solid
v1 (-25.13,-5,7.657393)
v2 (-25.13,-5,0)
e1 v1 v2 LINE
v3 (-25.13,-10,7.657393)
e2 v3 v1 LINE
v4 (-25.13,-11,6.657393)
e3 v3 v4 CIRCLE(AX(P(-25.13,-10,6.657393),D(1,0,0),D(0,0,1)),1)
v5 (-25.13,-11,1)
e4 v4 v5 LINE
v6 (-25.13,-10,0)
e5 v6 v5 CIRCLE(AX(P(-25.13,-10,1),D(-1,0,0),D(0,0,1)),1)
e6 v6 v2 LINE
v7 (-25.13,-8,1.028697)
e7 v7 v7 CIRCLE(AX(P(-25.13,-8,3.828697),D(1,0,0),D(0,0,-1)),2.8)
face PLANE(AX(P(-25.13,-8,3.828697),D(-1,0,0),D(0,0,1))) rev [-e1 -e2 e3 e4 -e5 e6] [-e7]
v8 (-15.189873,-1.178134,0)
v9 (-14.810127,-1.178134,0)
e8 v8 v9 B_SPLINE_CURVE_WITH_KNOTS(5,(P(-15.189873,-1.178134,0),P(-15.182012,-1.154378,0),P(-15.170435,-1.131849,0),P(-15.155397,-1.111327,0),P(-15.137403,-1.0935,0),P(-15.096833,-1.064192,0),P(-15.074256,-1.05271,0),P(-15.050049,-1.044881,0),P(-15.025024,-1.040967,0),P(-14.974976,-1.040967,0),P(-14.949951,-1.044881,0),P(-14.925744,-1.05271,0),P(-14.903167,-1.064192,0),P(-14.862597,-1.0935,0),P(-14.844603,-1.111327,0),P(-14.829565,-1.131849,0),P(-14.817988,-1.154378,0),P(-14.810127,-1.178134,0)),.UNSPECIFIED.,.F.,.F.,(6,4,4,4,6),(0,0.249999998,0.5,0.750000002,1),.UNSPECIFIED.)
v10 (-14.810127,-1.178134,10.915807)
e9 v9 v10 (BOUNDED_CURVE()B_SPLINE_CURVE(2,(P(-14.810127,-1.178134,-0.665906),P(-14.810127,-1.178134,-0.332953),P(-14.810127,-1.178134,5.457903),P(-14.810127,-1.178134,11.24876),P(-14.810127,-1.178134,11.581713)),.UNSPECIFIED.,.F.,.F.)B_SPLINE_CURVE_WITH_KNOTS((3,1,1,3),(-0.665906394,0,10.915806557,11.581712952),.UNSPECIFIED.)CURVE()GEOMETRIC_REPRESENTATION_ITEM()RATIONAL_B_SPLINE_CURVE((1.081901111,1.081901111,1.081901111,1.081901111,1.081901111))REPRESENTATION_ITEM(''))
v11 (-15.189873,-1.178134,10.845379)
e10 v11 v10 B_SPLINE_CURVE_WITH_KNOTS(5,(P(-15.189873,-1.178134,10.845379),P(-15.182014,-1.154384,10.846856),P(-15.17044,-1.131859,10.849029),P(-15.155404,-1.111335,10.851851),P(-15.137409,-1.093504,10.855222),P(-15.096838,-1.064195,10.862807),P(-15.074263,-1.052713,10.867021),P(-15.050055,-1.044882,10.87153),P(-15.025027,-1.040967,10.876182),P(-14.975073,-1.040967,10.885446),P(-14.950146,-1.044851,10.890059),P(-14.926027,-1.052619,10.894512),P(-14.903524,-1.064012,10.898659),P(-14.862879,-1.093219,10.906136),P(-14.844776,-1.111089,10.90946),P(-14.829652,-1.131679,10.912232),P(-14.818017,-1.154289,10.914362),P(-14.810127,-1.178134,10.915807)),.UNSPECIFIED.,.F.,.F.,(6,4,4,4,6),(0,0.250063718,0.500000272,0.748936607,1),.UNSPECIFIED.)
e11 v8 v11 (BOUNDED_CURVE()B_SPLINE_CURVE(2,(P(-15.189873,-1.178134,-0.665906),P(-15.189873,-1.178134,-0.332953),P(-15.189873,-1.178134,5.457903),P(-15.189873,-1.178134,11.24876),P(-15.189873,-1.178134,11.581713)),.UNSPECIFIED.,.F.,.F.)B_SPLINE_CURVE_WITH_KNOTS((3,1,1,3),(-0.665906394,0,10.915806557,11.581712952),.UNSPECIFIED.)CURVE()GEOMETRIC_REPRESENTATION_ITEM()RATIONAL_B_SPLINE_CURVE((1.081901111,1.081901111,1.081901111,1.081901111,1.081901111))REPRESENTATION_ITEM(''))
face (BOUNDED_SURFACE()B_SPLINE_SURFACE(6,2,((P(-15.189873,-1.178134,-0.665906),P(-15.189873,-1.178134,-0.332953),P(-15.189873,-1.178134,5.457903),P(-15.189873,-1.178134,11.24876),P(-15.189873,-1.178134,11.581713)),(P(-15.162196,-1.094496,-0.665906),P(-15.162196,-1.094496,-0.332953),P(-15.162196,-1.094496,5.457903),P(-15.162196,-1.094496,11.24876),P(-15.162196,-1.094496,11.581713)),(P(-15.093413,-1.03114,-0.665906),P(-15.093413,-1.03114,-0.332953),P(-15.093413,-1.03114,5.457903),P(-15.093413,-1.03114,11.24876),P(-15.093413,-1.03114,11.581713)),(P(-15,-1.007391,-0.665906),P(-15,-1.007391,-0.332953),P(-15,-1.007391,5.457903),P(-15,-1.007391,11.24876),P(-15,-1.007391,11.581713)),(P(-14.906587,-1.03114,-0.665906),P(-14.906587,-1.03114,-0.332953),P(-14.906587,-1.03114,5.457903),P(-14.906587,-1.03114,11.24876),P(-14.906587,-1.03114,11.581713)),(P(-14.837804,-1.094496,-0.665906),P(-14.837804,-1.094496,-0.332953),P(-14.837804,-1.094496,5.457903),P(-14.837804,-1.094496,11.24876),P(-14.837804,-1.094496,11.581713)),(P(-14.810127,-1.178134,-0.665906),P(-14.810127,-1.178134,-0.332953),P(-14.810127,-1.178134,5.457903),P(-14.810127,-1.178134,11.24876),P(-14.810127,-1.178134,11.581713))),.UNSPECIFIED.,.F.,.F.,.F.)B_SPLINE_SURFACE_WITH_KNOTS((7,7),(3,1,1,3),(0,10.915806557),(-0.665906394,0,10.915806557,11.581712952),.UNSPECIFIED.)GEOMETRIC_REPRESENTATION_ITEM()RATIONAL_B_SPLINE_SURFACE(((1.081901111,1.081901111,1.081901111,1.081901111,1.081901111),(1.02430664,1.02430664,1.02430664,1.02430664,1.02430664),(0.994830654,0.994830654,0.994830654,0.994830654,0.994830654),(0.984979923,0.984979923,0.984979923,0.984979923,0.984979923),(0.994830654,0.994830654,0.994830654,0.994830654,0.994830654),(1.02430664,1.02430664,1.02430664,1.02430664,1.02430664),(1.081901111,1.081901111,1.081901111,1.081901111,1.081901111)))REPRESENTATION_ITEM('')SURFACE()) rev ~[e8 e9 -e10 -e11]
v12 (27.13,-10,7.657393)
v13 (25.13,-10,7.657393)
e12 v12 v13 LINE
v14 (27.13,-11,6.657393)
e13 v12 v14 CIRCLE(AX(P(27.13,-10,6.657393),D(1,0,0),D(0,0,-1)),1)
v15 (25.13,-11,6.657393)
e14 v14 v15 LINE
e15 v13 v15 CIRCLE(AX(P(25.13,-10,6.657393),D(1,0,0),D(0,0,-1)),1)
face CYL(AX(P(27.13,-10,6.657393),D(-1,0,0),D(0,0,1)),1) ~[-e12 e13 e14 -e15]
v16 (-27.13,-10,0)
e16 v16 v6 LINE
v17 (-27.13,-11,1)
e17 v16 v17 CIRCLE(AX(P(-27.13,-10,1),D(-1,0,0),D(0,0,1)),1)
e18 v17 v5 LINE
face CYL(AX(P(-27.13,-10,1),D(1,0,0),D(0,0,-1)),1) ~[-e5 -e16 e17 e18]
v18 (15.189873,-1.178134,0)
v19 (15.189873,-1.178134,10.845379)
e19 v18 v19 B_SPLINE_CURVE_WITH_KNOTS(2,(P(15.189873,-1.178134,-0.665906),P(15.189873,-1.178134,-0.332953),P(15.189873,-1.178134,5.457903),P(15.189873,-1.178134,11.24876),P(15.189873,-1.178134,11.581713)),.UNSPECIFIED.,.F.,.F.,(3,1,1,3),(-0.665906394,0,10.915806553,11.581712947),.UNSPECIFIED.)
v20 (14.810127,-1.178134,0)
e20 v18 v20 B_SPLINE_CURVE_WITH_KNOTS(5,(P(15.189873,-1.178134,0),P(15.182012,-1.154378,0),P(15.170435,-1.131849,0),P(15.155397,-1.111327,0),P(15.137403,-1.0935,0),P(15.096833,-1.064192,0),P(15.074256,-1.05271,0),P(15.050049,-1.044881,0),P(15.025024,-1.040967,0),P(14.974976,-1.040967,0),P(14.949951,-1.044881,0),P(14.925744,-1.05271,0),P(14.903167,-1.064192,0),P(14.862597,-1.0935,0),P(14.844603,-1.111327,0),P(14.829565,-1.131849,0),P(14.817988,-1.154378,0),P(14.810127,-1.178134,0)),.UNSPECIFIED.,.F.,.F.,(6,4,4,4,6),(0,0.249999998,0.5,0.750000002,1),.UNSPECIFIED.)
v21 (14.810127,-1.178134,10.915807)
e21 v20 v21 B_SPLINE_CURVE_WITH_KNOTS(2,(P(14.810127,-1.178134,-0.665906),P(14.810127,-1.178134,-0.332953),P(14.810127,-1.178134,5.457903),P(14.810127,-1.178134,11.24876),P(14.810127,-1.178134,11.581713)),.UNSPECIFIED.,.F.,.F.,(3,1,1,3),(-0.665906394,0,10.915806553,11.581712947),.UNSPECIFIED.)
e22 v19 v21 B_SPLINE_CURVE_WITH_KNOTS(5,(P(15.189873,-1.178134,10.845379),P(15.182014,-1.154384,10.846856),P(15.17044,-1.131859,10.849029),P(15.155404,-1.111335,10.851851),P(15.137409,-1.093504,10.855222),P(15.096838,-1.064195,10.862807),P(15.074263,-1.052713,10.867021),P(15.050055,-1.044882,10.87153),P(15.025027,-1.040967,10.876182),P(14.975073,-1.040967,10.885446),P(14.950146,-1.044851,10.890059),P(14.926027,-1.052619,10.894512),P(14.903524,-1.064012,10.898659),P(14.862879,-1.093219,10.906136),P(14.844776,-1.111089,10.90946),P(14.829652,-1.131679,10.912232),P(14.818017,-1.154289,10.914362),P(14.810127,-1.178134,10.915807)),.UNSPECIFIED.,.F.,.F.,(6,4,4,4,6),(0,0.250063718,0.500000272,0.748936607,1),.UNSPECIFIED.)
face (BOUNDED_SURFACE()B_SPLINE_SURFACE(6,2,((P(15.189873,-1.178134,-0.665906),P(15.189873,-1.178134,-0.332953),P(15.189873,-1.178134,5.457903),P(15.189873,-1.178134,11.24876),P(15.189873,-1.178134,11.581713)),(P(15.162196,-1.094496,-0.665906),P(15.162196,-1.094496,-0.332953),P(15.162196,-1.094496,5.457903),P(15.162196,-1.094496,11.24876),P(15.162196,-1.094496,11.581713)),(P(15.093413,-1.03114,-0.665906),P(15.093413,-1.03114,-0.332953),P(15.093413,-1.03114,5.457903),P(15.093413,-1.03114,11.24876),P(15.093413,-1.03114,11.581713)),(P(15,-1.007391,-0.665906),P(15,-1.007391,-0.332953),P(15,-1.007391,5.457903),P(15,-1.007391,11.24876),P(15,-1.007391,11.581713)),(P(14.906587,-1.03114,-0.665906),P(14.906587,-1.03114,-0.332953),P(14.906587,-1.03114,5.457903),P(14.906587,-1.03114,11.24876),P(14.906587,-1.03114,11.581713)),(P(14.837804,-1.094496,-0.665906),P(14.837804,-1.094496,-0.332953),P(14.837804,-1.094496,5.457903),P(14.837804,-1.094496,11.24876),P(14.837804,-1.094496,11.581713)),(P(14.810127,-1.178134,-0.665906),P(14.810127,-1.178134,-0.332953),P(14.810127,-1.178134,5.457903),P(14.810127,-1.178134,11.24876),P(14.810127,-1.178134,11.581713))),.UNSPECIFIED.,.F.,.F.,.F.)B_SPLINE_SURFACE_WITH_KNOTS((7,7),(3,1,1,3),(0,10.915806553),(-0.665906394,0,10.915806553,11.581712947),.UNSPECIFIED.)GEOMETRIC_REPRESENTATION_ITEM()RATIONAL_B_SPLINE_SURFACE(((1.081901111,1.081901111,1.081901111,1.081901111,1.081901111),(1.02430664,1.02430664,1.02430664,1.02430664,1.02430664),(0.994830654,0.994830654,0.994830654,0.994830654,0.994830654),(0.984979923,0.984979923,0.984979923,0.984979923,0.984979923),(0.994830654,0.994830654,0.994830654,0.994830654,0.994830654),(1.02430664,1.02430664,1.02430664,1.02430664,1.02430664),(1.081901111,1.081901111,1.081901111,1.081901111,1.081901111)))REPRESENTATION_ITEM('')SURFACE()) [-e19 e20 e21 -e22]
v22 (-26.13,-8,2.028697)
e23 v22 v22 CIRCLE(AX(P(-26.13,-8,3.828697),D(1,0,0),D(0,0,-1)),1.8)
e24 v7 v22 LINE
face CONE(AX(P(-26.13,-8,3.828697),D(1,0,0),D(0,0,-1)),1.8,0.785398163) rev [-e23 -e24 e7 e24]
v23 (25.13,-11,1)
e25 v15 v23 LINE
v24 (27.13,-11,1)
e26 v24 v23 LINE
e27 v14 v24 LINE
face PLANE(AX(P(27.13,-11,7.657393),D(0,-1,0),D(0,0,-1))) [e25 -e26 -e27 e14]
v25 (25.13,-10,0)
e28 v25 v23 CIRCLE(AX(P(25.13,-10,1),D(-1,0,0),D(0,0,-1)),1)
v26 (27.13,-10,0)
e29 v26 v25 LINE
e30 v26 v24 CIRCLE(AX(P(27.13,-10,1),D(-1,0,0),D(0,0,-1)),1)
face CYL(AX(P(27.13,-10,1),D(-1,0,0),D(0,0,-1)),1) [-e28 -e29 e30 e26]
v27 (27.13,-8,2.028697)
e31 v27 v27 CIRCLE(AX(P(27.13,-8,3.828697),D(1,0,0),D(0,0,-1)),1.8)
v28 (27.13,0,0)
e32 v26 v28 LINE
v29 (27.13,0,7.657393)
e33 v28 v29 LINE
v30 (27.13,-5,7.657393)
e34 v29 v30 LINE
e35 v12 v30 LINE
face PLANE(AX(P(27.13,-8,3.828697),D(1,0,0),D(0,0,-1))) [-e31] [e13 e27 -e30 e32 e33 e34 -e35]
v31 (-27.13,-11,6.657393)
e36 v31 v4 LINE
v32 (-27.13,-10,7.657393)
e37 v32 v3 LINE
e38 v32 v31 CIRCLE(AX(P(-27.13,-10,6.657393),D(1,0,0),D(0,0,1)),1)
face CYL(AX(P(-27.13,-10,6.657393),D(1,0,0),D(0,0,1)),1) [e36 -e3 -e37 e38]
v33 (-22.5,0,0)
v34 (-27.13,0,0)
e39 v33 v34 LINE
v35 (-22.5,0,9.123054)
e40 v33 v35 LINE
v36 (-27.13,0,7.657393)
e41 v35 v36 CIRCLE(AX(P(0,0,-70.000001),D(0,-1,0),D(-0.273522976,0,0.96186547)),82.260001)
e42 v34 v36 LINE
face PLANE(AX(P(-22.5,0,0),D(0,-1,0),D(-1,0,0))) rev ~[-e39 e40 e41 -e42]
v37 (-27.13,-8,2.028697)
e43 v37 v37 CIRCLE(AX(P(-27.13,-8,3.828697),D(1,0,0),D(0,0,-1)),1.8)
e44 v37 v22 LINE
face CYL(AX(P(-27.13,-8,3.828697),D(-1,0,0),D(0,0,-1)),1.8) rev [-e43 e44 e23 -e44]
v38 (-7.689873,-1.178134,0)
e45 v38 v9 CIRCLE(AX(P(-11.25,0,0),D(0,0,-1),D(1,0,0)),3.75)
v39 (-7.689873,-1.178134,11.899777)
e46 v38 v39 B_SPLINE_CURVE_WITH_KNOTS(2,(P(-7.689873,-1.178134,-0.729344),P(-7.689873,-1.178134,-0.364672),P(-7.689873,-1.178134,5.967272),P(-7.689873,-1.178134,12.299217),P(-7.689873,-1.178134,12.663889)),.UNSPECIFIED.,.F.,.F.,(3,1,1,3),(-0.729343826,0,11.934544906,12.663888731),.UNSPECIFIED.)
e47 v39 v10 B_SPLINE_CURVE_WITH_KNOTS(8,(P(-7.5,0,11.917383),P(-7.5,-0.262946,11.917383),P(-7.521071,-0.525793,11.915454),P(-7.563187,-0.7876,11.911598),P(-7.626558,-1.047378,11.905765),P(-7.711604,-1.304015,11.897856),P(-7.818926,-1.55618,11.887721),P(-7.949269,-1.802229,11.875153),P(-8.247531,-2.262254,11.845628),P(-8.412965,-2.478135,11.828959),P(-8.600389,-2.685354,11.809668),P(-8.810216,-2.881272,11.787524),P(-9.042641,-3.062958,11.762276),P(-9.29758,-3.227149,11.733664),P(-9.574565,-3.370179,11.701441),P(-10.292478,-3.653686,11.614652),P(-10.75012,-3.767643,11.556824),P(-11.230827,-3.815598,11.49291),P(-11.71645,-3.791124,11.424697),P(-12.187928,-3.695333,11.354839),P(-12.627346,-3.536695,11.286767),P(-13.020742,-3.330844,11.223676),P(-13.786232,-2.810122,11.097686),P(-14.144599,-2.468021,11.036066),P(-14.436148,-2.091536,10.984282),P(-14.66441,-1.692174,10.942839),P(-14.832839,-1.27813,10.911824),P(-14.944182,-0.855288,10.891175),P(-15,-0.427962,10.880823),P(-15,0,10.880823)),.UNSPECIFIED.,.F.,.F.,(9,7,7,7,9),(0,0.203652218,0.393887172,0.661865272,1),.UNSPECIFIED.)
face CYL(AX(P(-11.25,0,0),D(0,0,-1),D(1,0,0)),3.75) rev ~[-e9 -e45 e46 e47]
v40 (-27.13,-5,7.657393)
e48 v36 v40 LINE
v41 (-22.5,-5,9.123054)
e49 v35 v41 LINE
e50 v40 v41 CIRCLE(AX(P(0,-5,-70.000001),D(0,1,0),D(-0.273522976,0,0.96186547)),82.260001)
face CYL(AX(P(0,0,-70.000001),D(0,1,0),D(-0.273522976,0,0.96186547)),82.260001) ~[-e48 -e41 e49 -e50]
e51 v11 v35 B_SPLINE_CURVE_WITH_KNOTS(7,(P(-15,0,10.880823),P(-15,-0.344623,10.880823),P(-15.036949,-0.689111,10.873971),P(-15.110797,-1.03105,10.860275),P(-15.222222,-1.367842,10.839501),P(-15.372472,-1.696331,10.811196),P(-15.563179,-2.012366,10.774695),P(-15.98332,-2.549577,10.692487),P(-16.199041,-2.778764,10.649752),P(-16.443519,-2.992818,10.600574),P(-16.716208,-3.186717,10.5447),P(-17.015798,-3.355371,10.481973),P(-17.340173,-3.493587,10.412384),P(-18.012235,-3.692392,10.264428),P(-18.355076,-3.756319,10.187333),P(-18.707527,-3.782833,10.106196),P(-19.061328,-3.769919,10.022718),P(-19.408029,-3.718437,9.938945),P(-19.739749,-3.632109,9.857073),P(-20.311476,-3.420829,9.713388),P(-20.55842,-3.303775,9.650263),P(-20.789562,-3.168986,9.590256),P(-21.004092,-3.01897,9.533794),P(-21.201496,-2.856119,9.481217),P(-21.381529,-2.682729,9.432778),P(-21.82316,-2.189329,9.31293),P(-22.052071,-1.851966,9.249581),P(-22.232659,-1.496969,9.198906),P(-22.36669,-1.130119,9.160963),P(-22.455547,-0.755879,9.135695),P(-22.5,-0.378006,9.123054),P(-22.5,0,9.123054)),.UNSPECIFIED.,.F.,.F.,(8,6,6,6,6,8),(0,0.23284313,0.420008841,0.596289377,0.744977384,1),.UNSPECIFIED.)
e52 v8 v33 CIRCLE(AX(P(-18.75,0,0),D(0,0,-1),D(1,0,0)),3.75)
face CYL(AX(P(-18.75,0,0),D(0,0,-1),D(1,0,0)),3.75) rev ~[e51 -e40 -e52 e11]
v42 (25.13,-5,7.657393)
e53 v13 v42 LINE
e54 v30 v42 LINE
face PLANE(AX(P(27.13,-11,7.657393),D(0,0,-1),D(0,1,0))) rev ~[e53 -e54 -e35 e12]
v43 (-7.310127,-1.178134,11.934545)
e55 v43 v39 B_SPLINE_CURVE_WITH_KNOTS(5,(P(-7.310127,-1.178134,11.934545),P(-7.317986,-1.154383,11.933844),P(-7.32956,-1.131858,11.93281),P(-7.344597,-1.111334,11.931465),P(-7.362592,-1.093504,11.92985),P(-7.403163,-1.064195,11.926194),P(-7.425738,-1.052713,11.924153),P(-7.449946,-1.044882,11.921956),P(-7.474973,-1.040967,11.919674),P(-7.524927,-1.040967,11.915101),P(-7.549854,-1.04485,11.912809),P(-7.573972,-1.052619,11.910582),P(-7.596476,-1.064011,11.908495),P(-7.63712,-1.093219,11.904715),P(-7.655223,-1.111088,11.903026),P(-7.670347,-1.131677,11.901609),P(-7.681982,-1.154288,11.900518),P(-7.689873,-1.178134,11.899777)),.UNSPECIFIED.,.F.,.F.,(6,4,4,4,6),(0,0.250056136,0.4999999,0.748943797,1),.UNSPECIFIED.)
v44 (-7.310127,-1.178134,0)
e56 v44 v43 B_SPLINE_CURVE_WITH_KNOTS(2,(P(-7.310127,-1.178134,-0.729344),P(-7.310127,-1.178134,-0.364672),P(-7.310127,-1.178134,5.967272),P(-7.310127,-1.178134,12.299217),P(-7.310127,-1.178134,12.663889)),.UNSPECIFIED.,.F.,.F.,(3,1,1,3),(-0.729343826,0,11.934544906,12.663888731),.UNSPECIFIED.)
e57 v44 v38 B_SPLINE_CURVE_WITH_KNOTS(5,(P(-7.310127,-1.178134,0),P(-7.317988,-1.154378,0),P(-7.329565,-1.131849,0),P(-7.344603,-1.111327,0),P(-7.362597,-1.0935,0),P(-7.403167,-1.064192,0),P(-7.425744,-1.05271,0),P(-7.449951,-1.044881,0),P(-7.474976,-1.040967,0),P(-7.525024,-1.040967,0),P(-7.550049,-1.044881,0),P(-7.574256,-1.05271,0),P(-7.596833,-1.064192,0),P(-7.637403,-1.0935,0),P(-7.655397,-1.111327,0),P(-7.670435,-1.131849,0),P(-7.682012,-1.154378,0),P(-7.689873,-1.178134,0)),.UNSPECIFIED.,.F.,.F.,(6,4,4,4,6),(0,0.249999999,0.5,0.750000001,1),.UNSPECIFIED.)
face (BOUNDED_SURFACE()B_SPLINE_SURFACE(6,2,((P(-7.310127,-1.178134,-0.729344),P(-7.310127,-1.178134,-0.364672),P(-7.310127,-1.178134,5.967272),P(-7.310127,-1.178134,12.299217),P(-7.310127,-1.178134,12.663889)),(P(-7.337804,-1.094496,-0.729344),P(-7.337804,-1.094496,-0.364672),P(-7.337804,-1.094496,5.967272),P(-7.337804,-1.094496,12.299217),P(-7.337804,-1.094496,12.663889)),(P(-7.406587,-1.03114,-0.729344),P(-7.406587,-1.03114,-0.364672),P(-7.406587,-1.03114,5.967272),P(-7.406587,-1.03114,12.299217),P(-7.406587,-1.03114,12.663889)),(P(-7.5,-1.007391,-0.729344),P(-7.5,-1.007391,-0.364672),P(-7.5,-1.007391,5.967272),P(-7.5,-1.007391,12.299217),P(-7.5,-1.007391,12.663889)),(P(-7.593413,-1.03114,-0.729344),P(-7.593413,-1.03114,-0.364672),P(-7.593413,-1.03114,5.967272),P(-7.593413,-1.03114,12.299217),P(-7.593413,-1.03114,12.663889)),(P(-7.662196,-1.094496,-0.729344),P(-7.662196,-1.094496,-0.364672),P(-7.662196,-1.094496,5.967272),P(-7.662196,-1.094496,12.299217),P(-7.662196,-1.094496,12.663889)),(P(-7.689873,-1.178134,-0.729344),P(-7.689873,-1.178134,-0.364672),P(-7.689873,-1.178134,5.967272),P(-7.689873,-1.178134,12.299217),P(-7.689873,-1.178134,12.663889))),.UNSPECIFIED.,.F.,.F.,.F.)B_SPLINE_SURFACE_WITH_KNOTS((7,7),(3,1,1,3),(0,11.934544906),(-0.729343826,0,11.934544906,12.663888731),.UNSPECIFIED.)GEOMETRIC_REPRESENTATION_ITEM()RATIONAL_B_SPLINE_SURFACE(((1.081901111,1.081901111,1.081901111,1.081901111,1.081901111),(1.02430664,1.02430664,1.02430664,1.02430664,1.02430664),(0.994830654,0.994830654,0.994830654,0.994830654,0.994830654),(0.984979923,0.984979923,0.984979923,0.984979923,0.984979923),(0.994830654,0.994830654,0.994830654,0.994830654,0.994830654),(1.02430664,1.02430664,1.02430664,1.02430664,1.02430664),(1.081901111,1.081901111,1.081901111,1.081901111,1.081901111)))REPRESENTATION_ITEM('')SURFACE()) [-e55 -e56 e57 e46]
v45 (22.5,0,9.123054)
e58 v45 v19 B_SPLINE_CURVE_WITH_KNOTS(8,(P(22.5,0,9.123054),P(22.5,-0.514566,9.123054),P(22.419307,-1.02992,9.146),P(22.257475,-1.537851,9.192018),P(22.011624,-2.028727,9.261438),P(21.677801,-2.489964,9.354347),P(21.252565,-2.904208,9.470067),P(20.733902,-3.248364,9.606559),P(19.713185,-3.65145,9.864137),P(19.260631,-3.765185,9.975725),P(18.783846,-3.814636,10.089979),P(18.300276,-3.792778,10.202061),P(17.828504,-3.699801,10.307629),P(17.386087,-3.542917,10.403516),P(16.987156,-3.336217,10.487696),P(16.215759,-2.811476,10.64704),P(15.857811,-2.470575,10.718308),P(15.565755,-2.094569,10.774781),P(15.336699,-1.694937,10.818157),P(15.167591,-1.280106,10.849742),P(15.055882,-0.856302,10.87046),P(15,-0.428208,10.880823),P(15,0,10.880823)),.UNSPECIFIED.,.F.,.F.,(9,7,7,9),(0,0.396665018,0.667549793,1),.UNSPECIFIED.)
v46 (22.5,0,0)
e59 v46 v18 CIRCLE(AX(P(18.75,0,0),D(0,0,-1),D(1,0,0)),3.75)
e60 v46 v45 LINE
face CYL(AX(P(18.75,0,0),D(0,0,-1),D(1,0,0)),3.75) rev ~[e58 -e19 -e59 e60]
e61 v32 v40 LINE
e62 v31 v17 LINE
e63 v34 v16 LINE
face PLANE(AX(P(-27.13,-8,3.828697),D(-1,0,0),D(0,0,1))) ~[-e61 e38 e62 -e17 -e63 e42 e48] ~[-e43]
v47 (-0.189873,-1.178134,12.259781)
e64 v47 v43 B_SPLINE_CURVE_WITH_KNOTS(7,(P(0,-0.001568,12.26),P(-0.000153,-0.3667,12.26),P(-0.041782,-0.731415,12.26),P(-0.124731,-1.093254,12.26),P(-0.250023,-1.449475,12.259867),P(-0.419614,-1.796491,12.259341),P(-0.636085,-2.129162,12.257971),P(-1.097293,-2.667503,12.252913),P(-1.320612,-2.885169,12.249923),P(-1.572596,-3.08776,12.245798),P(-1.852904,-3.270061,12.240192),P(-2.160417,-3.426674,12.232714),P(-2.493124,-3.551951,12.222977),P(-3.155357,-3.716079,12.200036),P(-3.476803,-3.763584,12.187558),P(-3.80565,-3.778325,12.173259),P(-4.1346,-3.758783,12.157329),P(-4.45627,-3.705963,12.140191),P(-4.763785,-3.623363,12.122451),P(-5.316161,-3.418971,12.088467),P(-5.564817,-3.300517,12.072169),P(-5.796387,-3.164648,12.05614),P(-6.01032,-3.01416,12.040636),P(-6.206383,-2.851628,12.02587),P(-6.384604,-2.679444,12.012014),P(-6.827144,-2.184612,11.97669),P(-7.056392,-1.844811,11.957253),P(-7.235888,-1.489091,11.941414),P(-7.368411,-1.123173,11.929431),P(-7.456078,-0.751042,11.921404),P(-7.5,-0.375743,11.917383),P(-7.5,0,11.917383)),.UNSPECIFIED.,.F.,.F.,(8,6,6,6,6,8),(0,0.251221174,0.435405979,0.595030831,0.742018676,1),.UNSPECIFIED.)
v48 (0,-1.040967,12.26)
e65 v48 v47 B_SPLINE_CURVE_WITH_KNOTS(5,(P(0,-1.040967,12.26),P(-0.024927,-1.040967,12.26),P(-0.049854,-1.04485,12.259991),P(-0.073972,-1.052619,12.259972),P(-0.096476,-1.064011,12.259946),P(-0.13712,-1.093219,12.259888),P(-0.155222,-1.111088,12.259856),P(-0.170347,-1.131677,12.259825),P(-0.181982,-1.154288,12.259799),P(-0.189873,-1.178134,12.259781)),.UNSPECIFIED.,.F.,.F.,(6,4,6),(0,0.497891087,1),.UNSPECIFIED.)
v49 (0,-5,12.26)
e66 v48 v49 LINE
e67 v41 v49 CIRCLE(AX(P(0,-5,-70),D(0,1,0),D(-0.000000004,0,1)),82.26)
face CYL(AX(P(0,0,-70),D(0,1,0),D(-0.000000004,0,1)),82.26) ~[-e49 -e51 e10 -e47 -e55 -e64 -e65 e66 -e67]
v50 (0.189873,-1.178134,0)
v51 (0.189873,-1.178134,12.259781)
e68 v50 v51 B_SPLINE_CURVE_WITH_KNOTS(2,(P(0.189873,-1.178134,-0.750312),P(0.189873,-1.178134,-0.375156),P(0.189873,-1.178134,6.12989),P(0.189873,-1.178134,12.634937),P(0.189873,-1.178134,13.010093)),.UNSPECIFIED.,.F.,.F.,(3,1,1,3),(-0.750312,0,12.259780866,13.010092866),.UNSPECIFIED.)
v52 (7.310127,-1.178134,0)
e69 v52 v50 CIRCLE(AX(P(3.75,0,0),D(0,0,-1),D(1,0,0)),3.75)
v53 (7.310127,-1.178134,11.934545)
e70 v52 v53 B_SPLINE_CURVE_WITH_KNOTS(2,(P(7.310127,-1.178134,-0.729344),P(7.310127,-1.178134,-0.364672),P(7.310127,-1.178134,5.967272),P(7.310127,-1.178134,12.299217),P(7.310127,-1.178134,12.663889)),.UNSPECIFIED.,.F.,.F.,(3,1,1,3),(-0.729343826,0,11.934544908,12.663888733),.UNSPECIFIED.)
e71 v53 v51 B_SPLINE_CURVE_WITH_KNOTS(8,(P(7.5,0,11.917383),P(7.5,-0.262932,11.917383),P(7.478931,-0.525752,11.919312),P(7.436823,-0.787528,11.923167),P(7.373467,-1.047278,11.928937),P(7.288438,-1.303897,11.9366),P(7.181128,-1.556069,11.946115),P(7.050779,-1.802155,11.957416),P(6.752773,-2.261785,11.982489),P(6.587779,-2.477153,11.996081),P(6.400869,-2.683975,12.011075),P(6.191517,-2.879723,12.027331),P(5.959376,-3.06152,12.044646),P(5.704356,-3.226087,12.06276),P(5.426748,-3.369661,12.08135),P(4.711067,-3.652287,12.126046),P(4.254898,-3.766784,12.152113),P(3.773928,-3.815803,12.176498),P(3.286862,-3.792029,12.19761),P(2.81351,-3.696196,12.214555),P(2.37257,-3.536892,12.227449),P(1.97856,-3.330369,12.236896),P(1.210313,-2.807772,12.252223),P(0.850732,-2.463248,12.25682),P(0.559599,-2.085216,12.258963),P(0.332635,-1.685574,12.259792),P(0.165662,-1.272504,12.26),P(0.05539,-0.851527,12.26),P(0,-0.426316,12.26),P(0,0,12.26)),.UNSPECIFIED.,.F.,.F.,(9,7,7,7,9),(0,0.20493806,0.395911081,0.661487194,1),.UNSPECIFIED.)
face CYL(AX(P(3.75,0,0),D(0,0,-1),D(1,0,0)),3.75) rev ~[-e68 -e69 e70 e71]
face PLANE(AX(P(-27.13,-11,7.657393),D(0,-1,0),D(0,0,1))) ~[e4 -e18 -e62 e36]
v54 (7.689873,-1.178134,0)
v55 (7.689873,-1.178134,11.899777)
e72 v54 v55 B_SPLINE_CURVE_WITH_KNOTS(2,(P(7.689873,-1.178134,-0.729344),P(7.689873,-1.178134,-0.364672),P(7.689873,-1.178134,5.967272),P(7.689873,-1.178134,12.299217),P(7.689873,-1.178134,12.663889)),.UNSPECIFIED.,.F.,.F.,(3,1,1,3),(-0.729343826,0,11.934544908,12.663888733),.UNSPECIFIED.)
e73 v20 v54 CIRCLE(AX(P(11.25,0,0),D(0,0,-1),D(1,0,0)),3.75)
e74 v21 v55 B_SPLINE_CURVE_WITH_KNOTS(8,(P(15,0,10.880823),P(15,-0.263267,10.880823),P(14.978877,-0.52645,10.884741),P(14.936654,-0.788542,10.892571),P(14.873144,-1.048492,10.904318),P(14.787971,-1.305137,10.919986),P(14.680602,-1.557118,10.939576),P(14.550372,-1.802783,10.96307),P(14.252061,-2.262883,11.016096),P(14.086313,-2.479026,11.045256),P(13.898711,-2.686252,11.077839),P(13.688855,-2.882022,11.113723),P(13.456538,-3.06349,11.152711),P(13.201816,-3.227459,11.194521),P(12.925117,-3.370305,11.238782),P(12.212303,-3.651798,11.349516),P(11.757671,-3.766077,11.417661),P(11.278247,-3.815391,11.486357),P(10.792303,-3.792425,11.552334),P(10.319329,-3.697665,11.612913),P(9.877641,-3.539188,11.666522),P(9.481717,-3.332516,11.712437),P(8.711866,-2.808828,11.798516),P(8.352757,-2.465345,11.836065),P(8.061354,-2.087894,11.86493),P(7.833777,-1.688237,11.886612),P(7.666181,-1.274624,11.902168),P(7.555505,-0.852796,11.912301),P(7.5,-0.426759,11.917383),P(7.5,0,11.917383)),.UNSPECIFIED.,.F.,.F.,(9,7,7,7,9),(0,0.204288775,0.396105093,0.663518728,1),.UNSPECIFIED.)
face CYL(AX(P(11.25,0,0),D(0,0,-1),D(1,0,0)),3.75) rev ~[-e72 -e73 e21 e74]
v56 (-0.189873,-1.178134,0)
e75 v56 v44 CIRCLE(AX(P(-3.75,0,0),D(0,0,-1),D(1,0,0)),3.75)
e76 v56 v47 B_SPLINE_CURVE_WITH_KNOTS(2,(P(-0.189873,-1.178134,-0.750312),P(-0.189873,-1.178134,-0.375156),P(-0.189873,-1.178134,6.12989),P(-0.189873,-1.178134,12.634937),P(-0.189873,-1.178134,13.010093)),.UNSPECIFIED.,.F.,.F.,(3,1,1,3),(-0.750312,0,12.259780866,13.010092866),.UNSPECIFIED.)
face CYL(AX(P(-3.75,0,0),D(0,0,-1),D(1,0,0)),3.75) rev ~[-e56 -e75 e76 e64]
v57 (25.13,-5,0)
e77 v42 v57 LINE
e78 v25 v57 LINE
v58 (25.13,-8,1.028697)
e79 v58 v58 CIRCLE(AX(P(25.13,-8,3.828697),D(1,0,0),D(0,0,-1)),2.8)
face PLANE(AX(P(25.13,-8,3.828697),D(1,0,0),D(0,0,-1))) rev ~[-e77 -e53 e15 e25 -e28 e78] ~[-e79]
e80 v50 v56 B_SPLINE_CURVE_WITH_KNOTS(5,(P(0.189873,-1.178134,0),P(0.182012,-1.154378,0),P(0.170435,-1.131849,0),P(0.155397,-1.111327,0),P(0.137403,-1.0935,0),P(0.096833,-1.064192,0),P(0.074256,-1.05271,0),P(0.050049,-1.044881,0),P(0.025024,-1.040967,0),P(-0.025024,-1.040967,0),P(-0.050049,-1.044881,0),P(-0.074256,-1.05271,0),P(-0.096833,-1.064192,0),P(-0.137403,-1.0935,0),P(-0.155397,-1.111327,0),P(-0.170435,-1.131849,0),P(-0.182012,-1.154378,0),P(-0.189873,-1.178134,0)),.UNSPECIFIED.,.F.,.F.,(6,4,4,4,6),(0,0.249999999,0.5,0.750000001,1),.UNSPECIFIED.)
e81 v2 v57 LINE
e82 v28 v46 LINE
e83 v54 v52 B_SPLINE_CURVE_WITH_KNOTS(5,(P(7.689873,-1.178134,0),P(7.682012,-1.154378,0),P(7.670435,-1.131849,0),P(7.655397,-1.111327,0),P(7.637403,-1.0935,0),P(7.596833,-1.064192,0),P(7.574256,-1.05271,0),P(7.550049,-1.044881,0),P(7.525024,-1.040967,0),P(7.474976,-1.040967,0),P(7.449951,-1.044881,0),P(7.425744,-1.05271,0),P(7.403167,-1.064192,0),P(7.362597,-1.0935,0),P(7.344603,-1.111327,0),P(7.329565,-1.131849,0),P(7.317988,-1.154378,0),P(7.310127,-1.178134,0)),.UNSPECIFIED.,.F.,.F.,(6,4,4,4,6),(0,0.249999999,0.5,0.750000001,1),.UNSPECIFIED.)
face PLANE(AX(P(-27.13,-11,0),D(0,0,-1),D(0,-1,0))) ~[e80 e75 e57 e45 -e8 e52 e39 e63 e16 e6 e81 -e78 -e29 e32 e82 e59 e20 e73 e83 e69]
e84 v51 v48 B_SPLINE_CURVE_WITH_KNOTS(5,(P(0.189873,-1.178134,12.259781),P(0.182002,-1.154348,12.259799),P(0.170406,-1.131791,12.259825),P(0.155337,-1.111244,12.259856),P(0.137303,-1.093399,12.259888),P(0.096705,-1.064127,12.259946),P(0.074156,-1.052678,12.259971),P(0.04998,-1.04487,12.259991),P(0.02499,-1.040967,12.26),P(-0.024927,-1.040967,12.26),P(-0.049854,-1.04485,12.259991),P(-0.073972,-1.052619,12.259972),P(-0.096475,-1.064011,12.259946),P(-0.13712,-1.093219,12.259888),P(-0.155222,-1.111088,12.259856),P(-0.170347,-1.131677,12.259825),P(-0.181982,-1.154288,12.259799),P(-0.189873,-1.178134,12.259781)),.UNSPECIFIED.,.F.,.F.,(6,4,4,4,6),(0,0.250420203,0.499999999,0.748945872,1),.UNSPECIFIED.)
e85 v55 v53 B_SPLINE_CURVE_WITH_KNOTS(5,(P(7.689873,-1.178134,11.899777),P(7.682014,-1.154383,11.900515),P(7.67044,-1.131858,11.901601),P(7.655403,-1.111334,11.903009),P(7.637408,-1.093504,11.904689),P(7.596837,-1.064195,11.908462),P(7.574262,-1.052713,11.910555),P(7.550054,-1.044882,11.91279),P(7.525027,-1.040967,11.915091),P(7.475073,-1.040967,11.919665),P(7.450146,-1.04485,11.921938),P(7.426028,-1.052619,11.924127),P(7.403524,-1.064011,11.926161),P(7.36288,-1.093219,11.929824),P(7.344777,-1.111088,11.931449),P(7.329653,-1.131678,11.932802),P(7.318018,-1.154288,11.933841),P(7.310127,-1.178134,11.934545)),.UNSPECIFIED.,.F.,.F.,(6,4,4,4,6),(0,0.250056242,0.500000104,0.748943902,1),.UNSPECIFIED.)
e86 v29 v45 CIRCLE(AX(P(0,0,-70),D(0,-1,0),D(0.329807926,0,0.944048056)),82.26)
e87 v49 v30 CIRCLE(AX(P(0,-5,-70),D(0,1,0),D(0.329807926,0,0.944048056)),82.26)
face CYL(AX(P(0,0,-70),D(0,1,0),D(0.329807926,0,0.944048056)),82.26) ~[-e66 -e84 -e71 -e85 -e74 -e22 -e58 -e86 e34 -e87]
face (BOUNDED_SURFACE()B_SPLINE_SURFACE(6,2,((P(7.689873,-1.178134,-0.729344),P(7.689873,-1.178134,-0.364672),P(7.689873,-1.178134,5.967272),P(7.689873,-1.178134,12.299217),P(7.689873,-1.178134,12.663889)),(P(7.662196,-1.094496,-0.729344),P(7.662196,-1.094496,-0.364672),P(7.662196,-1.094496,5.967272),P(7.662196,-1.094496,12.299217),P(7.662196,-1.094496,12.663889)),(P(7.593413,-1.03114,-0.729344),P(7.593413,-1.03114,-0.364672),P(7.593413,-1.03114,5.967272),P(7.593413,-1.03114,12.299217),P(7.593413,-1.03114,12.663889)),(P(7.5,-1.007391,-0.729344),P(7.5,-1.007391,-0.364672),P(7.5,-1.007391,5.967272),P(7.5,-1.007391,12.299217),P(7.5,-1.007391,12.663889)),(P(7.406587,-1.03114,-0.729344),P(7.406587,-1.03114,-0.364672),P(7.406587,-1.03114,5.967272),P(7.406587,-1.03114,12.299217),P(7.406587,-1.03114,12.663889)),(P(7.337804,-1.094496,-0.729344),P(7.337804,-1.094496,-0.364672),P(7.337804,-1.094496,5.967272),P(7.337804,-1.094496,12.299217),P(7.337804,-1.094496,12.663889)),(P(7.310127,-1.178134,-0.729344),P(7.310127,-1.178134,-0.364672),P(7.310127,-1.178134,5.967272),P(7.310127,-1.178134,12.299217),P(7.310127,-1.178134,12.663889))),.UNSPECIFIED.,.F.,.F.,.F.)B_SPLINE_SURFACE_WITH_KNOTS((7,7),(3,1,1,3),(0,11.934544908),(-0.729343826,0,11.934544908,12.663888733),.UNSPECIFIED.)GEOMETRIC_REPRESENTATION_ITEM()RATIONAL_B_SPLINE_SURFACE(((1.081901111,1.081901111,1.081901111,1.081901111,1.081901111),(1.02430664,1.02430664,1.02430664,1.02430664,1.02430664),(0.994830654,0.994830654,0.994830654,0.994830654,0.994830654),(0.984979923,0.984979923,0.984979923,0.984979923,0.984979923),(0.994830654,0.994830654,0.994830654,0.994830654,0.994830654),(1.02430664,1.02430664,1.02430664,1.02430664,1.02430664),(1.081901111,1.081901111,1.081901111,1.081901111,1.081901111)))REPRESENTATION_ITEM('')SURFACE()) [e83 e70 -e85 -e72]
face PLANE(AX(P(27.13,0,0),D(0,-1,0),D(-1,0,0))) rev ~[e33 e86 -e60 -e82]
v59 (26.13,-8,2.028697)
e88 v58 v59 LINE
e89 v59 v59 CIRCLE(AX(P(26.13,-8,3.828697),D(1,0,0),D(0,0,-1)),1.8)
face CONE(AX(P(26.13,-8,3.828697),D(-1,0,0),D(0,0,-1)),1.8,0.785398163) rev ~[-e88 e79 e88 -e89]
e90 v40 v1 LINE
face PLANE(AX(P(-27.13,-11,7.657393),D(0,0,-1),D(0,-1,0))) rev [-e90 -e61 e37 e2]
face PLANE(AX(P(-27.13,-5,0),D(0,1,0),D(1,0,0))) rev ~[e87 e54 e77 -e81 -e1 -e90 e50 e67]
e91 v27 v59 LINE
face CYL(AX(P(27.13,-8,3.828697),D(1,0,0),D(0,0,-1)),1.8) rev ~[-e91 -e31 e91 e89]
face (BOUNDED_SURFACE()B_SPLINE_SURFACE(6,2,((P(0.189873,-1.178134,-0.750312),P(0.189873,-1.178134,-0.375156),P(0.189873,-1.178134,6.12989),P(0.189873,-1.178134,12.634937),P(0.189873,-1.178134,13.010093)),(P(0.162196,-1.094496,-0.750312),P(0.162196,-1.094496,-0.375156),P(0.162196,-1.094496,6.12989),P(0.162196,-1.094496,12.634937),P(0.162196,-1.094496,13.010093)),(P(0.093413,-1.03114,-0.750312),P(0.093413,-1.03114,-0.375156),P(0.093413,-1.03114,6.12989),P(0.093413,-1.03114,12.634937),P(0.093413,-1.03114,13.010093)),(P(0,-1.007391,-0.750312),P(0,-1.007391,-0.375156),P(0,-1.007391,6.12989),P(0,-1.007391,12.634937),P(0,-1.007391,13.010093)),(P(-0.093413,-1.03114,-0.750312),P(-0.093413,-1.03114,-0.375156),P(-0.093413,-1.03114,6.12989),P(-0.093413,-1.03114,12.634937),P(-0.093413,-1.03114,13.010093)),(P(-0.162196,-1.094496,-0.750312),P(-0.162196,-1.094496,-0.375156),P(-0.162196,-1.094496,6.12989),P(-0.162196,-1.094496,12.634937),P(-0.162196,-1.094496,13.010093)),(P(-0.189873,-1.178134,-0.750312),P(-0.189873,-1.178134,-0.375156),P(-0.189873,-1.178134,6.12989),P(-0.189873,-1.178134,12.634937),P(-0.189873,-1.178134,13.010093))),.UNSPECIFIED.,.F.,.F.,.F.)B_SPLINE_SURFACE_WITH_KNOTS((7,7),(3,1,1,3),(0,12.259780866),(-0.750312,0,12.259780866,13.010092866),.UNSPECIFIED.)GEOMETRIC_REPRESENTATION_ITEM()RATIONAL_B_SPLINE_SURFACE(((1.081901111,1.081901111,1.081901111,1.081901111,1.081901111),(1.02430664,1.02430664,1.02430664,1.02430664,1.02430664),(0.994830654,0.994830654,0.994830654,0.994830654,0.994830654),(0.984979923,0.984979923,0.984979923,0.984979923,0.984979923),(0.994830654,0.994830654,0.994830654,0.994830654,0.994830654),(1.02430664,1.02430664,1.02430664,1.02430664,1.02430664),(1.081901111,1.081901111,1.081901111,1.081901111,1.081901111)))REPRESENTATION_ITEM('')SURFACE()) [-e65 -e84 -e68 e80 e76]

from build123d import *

# Parameters (mm, degrees)
RESSALTO_EXTRUS_O2_DEPTH = 12.26
CORTE_EXTRUS_O1_DEPTH    = 12.26
FILETE1_R                = 0.2
ESBO_O4_W                = 7.65739308
ESBO_O4_H                = 6
ESBO_O4_R                = 1.8
RESSALTO_EXTRUS_O3_DEPTH = 2
FILETE2_R                = 1
CHANFRO1_SIZE            = 1


with BuildPart() as part:
    # Esboço2 → Ressalto-extrusão2 (new body)
    with BuildSketch(Plane.XY):
        with BuildLine():
            Line((-22.5, 0), (-27.13, 0))
            Line((-27.13, 0), (-27.13, -5))
            Line((-27.13, -5), (27.13, -5))
            Line((27.13, -5), (27.13, 0))
            Line((27.13, 0), (22.5, 0))
            ThreePointArc((22.5, 0), (18.75, -3.75), (15, 0))
            ThreePointArc((15, 0), (11.25, -3.75), (7.5, 0))
            ThreePointArc((7.5, 0), (3.75, -3.75), (0, 0))
            ThreePointArc((0, 0), (-3.75, -3.75), (-7.5, 0))
            ThreePointArc((-7.5, 0), (-11.25, -3.75), (-15, 0))
            ThreePointArc((-15, 0), (-18.75, -3.75), (-22.5, 0))
        make_face()
    extrude(amount=RESSALTO_EXTRUS_O2_DEPTH)

    # Esboço3 → Corte-extrusão1 (cut)
    with BuildSketch(Plane(origin=(0, 0, 0), x_dir=(1, 0, 0), z_dir=(0, 1, 0))):
        with BuildLine():
            ThreePointArc((-22.5, -9.123053531), (-24.825818519, -8.424398849), (-27.13, -7.65739308))
            Line((-27.13, -7.65739308), (-27.13, -12.26))
            Line((-27.13, -12.26), (-22.5, -12.26))
            Line((-22.5, -12.26), (-22.5, -9.123053531))
        make_face()
        with BuildLine():
            ThreePointArc((-3.28e-07, -12.26), (-11.358812085, -11.471988978), (-22.5, -9.123053531))
            Line((-22.5, -9.123053531), (-22.5, -12.26))
            Line((-22.5, -12.26), (-3.28e-07, -12.26))
        make_face()
        with BuildLine():
            ThreePointArc((27.13, -7.65739308), (13.758823284, -11.101186069), (-3.28e-07, -12.26))
            Line((-3.28e-07, -12.26), (27.13, -12.26))
            Line((27.13, -12.26), (27.13, -7.65739308))
        make_face()
    extrude(amount=-CORTE_EXTRUS_O1_DEPTH, mode=Mode.SUBTRACT)

    # Filete1
    filete1_edges = [part.edges().sort_by_distance(p)[0] for p in [
        (15, 0, 5.440411719),
        (7.5, 0, 5.958691385),
        (0, 0, 6.13),
        (-7.5, 0, 5.958691385),
        (-15, 0, 5.440411719),
    ]]
    fillet(filete1_edges, radius=FILETE1_R)

    # Esboço4 → Ressalto-extrusão3 (add)
    with BuildSketch(Plane(origin=(27.13, 0, 0), x_dir=(0, 0, -1), z_dir=(1, 0, 0))):
        with Locations((-3.82869654, -8)):
            Rectangle(ESBO_O4_W, ESBO_O4_H)
        with Locations((-3.82869654, -8)):
            Circle(ESBO_O4_R, mode=Mode.SUBTRACT)
    ressalto_extrus_o3 = extrude(amount=-RESSALTO_EXTRUS_O3_DEPTH)

    # Espelhar1: Ressalto-extrusão3 across plane
    add(ressalto_extrus_o3.mirror(Plane(origin=(0, 0, 0), x_dir=(0, 0, 1), z_dir=(1, 0, 0))))

    # Filete2
    filete2_edges = [part.edges().sort_by_distance(p)[0] for p in [
        (26.13, -11, 7.65739308),
        (26.13, -11, 0),
        (-26.13, -11, 7.65739308),
        (-26.13, -11, 0),
    ]]
    fillet(filete2_edges, radius=FILETE2_R)

    # Chanfro1
    chanfro1_edges = [part.edges().sort_by_distance(p)[0] for p in [
        (25.13, -8, 5.62869654),
        (-25.13, -8, 5.62869654),
    ]]
    chamfer(chanfro1_edges, length=CHANFRO1_SIZE)


solid = part.part
